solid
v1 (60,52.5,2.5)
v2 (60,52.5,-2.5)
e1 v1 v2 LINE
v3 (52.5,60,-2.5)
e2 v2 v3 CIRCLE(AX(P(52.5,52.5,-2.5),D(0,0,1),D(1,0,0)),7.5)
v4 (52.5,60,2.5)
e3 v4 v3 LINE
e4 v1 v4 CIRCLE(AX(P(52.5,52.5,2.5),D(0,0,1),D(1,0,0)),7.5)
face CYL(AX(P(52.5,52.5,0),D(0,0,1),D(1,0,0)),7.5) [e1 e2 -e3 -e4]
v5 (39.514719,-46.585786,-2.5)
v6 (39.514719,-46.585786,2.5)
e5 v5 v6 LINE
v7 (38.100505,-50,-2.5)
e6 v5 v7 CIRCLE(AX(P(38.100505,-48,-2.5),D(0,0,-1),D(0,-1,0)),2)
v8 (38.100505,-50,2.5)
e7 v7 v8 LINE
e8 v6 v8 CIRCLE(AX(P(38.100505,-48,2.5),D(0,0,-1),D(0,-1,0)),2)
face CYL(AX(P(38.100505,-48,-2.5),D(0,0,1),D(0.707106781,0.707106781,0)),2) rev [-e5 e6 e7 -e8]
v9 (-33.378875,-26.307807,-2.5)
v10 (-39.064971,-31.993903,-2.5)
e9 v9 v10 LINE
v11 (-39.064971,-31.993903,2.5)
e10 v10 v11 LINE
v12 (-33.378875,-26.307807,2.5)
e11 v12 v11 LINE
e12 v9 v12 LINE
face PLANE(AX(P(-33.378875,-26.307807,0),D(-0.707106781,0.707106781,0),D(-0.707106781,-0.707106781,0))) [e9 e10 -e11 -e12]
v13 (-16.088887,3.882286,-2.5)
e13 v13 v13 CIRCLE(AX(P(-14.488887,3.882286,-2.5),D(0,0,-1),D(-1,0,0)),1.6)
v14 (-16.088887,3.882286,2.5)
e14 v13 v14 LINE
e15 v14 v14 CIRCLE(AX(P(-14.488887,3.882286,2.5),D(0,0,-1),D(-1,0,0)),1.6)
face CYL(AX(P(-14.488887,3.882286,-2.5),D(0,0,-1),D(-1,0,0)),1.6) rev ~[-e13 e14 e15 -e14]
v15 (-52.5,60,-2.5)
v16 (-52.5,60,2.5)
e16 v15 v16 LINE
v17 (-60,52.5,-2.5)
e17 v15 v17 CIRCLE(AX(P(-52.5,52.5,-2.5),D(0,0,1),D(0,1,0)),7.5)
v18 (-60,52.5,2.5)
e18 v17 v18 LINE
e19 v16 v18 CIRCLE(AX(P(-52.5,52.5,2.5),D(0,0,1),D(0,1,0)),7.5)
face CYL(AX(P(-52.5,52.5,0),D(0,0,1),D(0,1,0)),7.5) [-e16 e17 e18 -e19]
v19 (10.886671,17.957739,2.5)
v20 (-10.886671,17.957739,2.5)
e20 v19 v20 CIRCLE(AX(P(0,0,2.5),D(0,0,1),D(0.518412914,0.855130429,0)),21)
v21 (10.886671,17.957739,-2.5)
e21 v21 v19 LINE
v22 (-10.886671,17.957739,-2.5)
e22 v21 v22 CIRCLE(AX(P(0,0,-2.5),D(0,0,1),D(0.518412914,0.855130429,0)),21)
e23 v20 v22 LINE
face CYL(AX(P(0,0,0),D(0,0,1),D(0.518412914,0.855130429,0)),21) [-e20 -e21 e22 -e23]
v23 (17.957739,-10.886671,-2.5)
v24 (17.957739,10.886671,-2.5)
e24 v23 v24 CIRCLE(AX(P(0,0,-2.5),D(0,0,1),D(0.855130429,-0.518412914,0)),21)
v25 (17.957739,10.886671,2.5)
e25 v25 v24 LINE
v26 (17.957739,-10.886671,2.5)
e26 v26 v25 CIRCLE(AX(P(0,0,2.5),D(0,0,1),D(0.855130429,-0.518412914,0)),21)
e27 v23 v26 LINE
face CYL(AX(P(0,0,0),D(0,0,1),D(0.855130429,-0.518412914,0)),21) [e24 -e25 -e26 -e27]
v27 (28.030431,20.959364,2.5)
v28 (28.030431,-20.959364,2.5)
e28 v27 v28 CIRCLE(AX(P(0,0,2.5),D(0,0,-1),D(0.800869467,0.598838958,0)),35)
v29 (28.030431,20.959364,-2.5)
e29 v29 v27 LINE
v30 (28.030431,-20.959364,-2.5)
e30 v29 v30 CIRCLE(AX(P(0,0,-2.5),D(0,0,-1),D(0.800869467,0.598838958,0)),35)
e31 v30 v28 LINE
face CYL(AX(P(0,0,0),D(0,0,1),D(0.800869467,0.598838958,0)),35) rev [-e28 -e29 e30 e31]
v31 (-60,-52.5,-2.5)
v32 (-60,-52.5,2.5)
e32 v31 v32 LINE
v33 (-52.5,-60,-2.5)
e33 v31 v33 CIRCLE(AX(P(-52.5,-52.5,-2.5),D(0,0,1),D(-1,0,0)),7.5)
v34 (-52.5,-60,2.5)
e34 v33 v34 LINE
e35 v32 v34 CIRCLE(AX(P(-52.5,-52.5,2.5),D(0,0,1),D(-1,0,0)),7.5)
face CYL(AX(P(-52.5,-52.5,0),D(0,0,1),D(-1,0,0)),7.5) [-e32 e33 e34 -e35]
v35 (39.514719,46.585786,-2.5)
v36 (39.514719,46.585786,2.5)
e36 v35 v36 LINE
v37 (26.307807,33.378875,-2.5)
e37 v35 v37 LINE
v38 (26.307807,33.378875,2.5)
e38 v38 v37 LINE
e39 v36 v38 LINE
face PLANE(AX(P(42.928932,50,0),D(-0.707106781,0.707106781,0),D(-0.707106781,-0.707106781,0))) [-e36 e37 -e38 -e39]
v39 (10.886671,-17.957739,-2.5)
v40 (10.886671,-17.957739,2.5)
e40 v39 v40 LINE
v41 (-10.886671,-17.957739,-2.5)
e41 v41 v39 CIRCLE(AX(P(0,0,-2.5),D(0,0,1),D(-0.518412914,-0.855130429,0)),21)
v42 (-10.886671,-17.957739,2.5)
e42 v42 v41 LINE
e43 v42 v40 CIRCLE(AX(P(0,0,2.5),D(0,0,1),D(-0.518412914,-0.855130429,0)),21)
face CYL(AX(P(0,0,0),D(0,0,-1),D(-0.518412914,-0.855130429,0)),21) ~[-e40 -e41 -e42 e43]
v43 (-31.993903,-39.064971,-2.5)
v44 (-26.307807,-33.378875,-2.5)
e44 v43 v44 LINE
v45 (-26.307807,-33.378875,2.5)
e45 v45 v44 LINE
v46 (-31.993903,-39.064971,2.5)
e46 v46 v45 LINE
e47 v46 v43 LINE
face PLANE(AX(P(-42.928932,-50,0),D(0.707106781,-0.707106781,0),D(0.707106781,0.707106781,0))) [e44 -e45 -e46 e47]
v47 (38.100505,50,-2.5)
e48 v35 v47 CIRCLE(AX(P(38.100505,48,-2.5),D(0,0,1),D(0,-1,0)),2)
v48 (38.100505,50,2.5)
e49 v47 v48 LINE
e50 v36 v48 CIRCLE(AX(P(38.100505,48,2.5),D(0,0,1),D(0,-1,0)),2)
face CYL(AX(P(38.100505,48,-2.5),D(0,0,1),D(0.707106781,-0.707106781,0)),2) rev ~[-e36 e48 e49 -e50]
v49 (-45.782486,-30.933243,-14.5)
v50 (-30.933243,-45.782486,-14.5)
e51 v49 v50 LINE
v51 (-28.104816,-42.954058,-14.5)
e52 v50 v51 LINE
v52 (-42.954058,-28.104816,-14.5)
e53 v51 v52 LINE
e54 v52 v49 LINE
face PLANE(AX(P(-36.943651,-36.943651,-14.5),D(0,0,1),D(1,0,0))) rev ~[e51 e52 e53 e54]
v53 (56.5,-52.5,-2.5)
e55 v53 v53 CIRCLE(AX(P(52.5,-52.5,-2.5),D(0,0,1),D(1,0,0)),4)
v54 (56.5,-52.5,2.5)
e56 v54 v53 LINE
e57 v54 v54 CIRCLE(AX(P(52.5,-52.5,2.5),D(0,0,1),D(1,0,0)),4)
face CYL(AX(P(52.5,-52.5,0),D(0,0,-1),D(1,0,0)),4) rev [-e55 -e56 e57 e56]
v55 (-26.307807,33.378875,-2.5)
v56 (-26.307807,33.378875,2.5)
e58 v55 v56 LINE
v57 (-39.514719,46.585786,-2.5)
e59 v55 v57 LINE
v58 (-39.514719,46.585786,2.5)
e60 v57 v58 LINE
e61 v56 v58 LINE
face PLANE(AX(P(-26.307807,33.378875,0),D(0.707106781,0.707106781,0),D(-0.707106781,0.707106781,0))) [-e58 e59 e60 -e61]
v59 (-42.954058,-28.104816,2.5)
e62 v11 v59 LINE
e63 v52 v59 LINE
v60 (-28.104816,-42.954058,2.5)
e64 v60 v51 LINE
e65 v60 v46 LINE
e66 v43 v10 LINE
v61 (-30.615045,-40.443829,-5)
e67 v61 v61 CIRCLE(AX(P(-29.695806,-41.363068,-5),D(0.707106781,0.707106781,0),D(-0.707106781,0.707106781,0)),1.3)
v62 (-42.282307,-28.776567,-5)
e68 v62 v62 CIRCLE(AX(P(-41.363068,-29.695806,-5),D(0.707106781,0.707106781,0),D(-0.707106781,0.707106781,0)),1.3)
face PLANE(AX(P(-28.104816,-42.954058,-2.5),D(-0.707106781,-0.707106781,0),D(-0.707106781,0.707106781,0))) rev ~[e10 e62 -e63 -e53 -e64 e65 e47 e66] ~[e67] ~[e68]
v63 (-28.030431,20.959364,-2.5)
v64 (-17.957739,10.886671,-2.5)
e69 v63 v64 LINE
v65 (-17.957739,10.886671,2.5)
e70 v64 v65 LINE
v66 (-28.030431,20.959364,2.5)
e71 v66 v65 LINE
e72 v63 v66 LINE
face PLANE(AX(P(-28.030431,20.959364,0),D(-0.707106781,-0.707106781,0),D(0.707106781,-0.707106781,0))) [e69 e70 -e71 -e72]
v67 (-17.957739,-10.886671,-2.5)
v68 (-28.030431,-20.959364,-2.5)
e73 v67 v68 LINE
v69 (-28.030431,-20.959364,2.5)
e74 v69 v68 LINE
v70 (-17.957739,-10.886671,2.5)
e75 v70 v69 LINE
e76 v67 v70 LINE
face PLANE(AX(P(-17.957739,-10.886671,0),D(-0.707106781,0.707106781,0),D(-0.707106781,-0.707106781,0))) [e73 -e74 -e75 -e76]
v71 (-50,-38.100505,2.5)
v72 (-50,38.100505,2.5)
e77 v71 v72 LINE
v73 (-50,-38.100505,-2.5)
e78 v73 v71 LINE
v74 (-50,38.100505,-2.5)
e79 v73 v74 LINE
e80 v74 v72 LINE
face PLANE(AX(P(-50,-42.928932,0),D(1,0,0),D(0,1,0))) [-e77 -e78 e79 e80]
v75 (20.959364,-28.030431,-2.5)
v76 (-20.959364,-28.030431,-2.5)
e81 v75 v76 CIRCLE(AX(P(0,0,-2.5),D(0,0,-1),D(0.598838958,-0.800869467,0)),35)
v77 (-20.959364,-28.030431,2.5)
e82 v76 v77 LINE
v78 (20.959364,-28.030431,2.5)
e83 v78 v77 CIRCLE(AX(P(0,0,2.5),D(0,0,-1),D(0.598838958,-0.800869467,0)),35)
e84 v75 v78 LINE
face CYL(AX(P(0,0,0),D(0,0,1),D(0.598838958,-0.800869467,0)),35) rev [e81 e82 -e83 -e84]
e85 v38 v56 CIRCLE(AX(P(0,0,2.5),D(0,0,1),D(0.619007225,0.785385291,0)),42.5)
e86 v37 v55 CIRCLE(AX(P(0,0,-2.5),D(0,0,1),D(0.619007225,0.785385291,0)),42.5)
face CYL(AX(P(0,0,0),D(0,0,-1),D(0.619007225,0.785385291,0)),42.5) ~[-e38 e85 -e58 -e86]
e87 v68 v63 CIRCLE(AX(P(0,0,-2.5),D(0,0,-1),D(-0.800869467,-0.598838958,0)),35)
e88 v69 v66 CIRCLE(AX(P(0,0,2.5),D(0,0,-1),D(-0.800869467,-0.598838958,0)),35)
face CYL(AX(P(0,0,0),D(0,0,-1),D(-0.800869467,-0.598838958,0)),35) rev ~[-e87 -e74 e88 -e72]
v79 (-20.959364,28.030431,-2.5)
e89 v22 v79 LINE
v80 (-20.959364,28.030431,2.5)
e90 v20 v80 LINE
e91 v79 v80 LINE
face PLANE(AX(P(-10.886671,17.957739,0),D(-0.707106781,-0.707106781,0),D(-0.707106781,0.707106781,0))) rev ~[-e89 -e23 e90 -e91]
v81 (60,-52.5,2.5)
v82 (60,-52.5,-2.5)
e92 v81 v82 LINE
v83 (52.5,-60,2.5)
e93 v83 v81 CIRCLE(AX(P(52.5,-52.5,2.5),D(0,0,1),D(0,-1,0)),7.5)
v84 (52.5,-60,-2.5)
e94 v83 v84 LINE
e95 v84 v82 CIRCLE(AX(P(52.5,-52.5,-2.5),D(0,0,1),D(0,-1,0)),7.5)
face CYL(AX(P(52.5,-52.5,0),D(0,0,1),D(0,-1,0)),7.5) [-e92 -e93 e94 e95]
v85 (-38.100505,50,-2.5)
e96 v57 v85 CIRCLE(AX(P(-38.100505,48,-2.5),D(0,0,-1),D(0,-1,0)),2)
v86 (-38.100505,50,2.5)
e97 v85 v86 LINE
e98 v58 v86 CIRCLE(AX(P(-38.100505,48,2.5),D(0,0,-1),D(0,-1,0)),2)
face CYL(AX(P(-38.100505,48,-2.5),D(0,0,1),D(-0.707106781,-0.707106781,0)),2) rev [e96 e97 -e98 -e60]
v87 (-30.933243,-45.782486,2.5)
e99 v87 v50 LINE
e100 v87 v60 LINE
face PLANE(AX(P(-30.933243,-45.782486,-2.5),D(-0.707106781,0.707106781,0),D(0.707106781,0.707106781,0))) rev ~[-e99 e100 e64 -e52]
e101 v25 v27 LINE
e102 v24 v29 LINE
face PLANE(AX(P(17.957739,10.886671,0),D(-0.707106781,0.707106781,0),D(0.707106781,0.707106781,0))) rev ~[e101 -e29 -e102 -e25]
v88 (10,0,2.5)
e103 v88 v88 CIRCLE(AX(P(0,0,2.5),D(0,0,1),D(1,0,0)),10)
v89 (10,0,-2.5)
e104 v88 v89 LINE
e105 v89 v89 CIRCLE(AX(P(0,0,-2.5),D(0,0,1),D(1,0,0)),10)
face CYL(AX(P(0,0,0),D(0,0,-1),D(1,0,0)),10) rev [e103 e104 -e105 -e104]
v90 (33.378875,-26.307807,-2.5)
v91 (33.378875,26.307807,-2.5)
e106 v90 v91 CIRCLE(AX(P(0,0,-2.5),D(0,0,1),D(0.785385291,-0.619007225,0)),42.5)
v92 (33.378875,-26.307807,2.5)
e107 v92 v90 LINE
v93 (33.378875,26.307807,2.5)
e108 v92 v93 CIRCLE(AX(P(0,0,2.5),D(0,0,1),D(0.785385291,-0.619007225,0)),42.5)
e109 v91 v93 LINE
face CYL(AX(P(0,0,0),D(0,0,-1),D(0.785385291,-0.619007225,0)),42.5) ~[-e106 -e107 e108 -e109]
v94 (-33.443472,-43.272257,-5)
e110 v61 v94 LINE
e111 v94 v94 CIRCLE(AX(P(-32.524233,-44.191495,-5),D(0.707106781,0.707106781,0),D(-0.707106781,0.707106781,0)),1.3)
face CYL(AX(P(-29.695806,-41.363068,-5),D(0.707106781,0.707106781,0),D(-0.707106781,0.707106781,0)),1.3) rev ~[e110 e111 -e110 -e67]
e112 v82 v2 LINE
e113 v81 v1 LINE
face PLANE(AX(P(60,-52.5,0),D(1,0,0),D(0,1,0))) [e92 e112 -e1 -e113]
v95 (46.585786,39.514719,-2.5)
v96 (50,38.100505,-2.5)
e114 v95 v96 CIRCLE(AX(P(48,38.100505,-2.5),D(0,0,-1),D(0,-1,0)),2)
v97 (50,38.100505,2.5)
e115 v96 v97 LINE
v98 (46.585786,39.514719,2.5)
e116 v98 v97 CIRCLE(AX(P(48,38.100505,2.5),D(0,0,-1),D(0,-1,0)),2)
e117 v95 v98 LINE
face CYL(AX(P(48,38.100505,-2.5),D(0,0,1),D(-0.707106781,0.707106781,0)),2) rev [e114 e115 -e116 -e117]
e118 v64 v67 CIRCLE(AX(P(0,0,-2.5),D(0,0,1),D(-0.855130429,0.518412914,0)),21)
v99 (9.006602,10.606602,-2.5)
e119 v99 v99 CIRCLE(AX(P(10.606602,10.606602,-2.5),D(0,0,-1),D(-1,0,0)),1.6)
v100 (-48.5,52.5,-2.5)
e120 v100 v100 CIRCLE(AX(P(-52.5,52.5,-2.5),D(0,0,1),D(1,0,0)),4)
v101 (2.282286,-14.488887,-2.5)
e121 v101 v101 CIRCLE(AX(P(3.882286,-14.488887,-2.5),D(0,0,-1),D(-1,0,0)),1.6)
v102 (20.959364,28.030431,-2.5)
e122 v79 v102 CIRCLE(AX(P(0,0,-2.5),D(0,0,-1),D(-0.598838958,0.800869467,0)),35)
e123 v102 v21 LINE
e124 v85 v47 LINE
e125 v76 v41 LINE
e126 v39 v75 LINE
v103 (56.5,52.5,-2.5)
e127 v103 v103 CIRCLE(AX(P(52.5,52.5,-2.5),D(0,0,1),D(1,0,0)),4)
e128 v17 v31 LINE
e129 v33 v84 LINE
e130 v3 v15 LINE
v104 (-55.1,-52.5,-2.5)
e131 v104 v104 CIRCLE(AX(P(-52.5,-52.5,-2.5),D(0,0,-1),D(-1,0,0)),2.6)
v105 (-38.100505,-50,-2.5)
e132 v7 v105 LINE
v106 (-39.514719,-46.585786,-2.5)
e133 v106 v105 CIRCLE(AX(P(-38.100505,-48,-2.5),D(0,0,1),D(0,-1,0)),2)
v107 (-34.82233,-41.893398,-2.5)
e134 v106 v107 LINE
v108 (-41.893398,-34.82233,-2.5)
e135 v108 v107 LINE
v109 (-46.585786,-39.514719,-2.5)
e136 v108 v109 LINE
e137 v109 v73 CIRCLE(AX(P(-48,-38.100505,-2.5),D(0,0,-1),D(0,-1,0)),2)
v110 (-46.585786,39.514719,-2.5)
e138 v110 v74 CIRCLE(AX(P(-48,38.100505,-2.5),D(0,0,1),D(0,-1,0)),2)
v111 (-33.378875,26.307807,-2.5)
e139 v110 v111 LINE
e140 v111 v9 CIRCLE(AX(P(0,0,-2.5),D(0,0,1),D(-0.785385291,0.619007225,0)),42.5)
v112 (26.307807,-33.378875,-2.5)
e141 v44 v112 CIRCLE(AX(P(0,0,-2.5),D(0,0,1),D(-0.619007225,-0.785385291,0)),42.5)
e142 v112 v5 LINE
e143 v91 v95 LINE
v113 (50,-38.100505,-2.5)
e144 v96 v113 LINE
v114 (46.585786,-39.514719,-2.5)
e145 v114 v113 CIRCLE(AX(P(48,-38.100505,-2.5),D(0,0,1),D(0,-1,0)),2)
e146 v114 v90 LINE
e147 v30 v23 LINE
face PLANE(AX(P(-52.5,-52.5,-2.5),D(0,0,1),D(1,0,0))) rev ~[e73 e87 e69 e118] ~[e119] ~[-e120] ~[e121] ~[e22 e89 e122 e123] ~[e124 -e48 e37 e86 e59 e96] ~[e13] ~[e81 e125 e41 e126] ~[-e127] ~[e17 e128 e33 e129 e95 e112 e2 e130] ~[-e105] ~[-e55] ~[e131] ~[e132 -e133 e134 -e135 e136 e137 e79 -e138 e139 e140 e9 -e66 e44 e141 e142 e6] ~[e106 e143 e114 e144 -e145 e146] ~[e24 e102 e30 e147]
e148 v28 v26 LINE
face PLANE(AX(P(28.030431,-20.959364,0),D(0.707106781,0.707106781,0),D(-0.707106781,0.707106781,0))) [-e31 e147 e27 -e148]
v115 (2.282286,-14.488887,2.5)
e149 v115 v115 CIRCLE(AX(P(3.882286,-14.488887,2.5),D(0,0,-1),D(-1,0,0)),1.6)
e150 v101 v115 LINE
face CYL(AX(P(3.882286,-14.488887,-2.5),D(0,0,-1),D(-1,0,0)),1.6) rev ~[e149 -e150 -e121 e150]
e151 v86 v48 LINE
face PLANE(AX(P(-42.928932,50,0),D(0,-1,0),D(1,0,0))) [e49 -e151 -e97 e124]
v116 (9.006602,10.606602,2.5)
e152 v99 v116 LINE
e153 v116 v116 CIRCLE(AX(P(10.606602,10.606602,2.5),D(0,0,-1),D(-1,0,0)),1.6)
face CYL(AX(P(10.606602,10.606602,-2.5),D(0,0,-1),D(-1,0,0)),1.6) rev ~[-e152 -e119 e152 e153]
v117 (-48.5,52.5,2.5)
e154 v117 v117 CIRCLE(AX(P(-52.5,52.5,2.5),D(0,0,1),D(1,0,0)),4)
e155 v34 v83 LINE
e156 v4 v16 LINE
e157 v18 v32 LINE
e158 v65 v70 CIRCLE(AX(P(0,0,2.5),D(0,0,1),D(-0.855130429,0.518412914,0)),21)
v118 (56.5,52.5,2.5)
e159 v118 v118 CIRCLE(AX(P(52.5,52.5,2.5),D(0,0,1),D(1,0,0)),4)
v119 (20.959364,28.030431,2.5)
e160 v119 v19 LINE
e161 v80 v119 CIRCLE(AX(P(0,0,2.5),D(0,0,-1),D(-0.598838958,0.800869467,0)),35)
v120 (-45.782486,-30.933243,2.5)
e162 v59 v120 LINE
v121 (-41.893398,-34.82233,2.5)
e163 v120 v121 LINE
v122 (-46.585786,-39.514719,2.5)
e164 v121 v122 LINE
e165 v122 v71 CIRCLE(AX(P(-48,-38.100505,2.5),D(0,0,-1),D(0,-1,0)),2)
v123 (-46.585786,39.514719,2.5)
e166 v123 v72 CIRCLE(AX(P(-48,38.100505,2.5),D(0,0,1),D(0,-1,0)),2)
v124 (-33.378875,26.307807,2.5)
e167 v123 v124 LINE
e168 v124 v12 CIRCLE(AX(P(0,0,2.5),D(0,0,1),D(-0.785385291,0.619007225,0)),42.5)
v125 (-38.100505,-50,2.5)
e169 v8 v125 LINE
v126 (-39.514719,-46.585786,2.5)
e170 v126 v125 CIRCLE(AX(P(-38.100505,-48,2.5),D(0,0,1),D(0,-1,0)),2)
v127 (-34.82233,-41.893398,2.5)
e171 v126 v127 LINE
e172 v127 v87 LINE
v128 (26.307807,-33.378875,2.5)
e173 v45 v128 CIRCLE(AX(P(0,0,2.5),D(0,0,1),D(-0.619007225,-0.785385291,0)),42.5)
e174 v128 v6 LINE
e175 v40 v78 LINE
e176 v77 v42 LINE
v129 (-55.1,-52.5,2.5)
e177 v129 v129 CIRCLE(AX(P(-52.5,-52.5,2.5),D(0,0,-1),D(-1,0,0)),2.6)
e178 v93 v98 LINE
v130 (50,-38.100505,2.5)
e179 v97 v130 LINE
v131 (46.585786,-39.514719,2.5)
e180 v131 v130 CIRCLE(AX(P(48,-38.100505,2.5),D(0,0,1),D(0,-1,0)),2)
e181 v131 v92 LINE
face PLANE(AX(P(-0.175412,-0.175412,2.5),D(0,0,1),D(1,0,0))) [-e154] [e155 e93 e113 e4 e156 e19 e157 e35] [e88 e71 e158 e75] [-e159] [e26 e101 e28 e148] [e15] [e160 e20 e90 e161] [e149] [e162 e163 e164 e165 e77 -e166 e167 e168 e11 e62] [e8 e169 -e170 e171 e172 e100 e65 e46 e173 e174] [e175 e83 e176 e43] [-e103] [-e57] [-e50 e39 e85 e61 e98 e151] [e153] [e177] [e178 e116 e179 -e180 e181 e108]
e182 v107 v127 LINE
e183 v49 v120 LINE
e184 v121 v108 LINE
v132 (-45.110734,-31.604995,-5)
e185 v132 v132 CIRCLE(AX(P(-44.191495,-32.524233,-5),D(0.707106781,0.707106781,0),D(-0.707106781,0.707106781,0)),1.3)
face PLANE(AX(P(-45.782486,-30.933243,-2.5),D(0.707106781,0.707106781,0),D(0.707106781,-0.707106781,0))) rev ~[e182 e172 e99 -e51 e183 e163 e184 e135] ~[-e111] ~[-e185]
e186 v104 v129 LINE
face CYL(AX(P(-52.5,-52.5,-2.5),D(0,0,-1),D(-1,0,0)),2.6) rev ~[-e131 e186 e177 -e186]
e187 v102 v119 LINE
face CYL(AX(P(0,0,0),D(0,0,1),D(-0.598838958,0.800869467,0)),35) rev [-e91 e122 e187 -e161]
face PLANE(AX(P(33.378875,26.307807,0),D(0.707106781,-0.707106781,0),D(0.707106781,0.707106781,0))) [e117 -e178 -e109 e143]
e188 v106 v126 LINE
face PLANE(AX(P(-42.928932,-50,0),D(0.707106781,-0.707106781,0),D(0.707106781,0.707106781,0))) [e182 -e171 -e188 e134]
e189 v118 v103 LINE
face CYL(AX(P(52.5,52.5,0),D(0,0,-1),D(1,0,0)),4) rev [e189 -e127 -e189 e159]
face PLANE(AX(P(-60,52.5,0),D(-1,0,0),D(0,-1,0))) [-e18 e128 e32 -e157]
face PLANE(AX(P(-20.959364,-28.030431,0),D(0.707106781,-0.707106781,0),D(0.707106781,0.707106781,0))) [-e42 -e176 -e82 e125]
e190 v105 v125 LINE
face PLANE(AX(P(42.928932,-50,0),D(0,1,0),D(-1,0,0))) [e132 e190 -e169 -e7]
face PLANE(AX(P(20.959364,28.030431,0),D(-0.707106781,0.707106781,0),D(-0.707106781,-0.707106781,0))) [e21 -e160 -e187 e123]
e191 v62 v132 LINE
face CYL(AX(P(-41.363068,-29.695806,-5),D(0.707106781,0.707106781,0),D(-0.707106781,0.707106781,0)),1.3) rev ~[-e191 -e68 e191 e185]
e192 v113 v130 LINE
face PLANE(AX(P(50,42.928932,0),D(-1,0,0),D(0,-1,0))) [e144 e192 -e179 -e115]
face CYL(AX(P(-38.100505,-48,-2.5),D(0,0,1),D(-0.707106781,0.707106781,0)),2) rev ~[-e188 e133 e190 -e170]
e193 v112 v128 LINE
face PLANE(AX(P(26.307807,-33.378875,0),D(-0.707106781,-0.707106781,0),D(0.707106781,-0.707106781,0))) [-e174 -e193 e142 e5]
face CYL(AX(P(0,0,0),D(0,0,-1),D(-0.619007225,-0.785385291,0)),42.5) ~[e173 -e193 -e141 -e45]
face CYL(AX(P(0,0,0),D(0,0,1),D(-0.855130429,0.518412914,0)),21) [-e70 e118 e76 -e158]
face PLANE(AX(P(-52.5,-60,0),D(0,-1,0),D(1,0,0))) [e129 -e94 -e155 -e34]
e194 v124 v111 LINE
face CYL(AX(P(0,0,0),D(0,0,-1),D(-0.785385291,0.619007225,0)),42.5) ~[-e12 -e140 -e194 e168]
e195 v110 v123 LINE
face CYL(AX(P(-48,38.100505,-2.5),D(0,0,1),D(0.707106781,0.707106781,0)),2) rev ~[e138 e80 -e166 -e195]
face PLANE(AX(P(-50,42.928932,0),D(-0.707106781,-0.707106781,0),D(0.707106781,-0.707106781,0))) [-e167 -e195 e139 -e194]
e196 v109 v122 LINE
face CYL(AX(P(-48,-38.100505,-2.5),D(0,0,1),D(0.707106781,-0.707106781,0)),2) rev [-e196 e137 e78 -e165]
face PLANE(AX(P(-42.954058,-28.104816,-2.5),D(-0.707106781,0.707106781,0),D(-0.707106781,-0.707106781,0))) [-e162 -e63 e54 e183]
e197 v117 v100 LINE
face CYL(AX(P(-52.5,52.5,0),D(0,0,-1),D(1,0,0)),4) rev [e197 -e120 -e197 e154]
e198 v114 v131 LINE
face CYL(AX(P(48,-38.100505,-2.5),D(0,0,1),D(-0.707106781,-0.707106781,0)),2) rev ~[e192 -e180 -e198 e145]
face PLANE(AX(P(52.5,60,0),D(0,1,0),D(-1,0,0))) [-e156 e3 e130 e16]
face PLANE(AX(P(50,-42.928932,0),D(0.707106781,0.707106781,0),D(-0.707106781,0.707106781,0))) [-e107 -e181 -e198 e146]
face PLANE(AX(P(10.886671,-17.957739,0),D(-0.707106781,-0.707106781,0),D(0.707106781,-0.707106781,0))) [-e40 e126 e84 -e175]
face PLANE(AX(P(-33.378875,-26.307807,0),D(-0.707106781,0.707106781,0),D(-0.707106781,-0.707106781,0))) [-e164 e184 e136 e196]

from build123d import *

# Parameters (mm, degrees)
SKETCH1_R                  = 4
SKETCH1_R_2                = 10
EXTRUDE1_DEPTH             = 2.5
FILLET1_R                  = 2
EXTRUDE5_REACH             = 87
SKETCH6_R                  = 1.6
EXTRUDE6_START             = -5
SKETCH7_R                  = 4
EXTRUDE6_DEPTH             = 5
SKETCH10_R                 = 2.6
EXTRUDE7_DEPTH             = 10
EXTRUDE8_DEPTH             = 12
EXTRUDE8_DIRECTION_2_REACH = 87
SKETCH12_R                 = 1.3
EXTRUDE9_DEPTH             = 10


with BuildPart() as part:
    # Sketch1 → Extrude1 (new, symmetric)
    with BuildSketch(Plane.XY):
        with BuildLine():
            Line((52.5, 60), (-52.5, 60))
            ThreePointArc((-52.5, 60), (-57.803300859, 57.803300859), (-60, 52.5))
            Line((-60, 52.5), (-60, -52.5))
            ThreePointArc((-60, -52.5), (-57.803300859, -57.803300859), (-52.5, -60))
            Line((-52.5, -60), (52.5, -60))
            ThreePointArc((52.5, -60), (57.803300859, -57.803300859), (60, -52.5))
            Line((60, -52.5), (60, 52.5))
            ThreePointArc((60, 52.5), (57.803300859, 57.803300859), (52.5, 60))
        make_face()
        with BuildLine():
            Line((-50, 42.928932188), (-33.378874872, 26.30780706))
            ThreePointArc((-33.378874872, 26.30780706), (-42.5, 0), (-33.378874872, -26.30780706))
            Line((-33.378874872, -26.30780706), (-50, -42.928932188))
            Line((-50, -42.928932188), (-50, 42.928932188))
        make_face(mode=Mode.SUBTRACT)
        with Locations((-52.5, -52.5)):
            Circle(SKETCH1_R, mode=Mode.SUBTRACT)
        with BuildLine():
            Line((-42.928932188, -50), (-26.30780706, -33.378874872))
            ThreePointArc((-26.30780706, -33.378874872), (0, -42.5), (26.30780706, -33.378874872))
            Line((26.30780706, -33.378874872), (42.928932188, -50))
            Line((42.928932188, -50), (-42.928932188, -50))
        make_face(mode=Mode.SUBTRACT)
        with Locations((52.5, -52.5)):
            Circle(SKETCH1_R, mode=Mode.SUBTRACT)
        with BuildLine():
            Line((50, -42.928932188), (33.378874872, -26.30780706))
            ThreePointArc((33.378874872, -26.30780706), (42.5, 0), (33.378874872, 26.30780706))
            Line((33.378874872, 26.30780706), (50, 42.928932188))
            Line((50, 42.928932188), (50, -42.928932188))
        make_face(mode=Mode.SUBTRACT)
        with Locations((52.5, 52.5)):
            Circle(SKETCH1_R, mode=Mode.SUBTRACT)
        with BuildLine():
            Line((42.928932188, 50), (26.30780706, 33.378874872))
            ThreePointArc((26.30780706, 33.378874872), (0, 42.5), (-26.30780706, 33.378874872))
            Line((-26.30780706, 33.378874872), (-42.928932188, 50))
            Line((-42.928932188, 50), (42.928932188, 50))
        make_face(mode=Mode.SUBTRACT)
        with Locations((-52.5, 52.5)):
            Circle(SKETCH1_R, mode=Mode.SUBTRACT)
        with BuildLine():
            Line((-20.959363522, -28.030431334), (-10.886671196, -17.957739008))
            ThreePointArc((-10.886671196, -17.957739008), (0, -21), (10.886671196, -17.957739008))
            Line((10.886671196, -17.957739008), (20.959363522, -28.030431334))
            ThreePointArc((20.959363522, -28.030431334), (0, -35), (-20.959363522, -28.030431334))
        make_face(mode=Mode.SUBTRACT)
        with BuildLine():
            ThreePointArc((17.957739008, -10.886671196), (21, 0), (17.957739008, 10.886671196))
            Line((17.957739008, 10.886671196), (28.030431334, 20.959363522))
            ThreePointArc((28.030431334, 20.959363522), (35, 0), (28.030431334, -20.959363522))
            Line((28.030431334, -20.959363522), (17.957739008, -10.886671196))
        make_face(mode=Mode.SUBTRACT)
        with BuildLine():
            ThreePointArc((10.886671196, 17.957739008), (0, 21), (-10.886671196, 17.957739008))
            Line((-10.886671196, 17.957739008), (-20.959363522, 28.030431334))
            ThreePointArc((-20.959363522, 28.030431334), (0, 35), (20.959363522, 28.030431334))
            Line((20.959363522, 28.030431334), (10.886671196, 17.957739008))
        make_face(mode=Mode.SUBTRACT)
        with BuildLine():
            Line((-17.957739008, -10.886671196), (-28.030431334, -20.959363522))
            ThreePointArc((-28.030431334, -20.959363522), (-35, 0), (-28.030431334, 20.959363522))
            Line((-28.030431334, 20.959363522), (-17.957739008, 10.886671196))
            ThreePointArc((-17.957739008, 10.886671196), (-21, 0), (-17.957739008, -10.886671196))
        make_face(mode=Mode.SUBTRACT)
        Circle(SKETCH1_R_2, mode=Mode.SUBTRACT)
    extrude(amount=EXTRUDE1_DEPTH, both=True)

    # Fillet1
    fillet1_edges = [part.edges().sort_by_distance(p)[0] for p in [
        (50, 42.928932188, 0),
        (50, -42.928932188, 0),
        (42.928932188, 50, 0),
        (-42.928932188, 50, 0),
        (-50, 42.928932188, 0),
        (-50, -42.928932188, 0),
        (-42.928932188, -50, 0),
        (42.928932188, -50, 0),
    ]]
    fillet(fillet1_edges, radius=FILLET1_R)

    # Sketch6 → Extrude5 (cut, up to next)
    with BuildSketch(Plane(origin=(0, 0, -2.5), x_dir=(-1, 0, 0), z_dir=(0, 0, -1)), mode=Mode.PRIVATE) as extrude5_sk1:
        with Locations((-10.606601718, 10.606601718)):
            Circle(SKETCH6_R)
    extrude5_tool1 = extrude(extrude5_sk1.sketch, amount=-EXTRUDE5_REACH, mode=Mode.PRIVATE) & part.part
    # Sketch6 → Extrude5 (cut, up to next)
    with BuildSketch(Plane(origin=(0, 0, -2.5), x_dir=(-1, 0, 0), z_dir=(0, 0, -1)), mode=Mode.PRIVATE) as extrude5_sk2:
        with Locations((14.488887394, 3.882285677)):
            Circle(SKETCH6_R)
    extrude5_tool2 = extrude(extrude5_sk2.sketch, amount=-EXTRUDE5_REACH, mode=Mode.PRIVATE) & part.part
    # Sketch6 → Extrude5 (cut, up to next)
    with BuildSketch(Plane(origin=(0, 0, -2.5), x_dir=(-1, 0, 0), z_dir=(0, 0, -1)), mode=Mode.PRIVATE) as extrude5_sk3:
        with Locations((-3.882285677, -14.488887394)):
            Circle(SKETCH6_R)
    extrude5_tool3 = extrude(extrude5_sk3.sketch, amount=-EXTRUDE5_REACH, mode=Mode.PRIVATE) & part.part
    add(extrude5_tool1.solids().sort_by_distance((10.606602, 10.606602, -2.5))[0], mode=Mode.SUBTRACT)
    add(extrude5_tool2.solids().sort_by_distance((-14.488887, 3.882286, -2.5))[0], mode=Mode.SUBTRACT)
    add(extrude5_tool3.solids().sort_by_distance((3.882286, -14.488887, -2.5))[0], mode=Mode.SUBTRACT)

    # Sketch7 → Extrude6 (add)
    with BuildSketch(Plane.XY.offset(2.5).offset(EXTRUDE6_START)):
        with Locations((-52.5, -52.5)):
            Circle(SKETCH7_R)
    extrude(amount=EXTRUDE6_DEPTH)

    # Sketch10 → Extrude7 (cut)
    with BuildSketch(Plane(origin=(0, 0, -2.5), x_dir=(-1, 0, 0), z_dir=(0, 0, -1))):
        with Locations((52.5, -52.5)):
            Circle(SKETCH10_R)
    extrude(amount=-EXTRUDE7_DEPTH, mode=Mode.SUBTRACT)

    # Sketch11 → Extrude8 (add)
    with BuildSketch(Plane(origin=(0, 0, -2.5), x_dir=(-1, 0, 0), z_dir=(0, 0, -1))):
        Polygon((28.104816049, -42.954058454), (42.954058454, -28.104816049), (45.782485579, -30.933243174), (30.933243174, -45.782485579), align=None)
    extrude(amount=EXTRUDE8_DEPTH)

    # Extrude8 direction 2: up to this face of the body (flat: up to its plane)
    extrude8_direction_2_end = Plane(part.part.faces().sort_by_distance((0, 58.302943725, 2.5))[0])
    # Sketch11 → Extrude8 direction 2 (add, up to the picked face)
    with BuildSketch(Plane(origin=(0, 0, -2.5), x_dir=(-1, 0, 0), z_dir=(0, 0, -1)), mode=Mode.PRIVATE) as extrude8_direction_2_sk1:
        Polygon((28.104816049, -42.954058454), (42.954058454, -28.104816049), (45.782485579, -30.933243174), (30.933243174, -45.782485579), align=None)
    extrude8_direction_2_tool1 = split(extrude(extrude8_direction_2_sk1.sketch, amount=-EXTRUDE8_DIRECTION_2_REACH, mode=Mode.PRIVATE), bisect_by=extrude8_direction_2_end, keep=Keep.BOTH, mode=Mode.PRIVATE)
    add(extrude8_direction_2_tool1.solids().sort_by(Axis((-36.943651, -36.943651, -2.5), (0, 0, 1)))[0])

    # Sketch12 → Extrude9 (cut)
    with BuildSketch(Plane(origin=(-35.529437252, -35.529437252, 0), x_dir=(0, 0, -1), z_dir=(0.7071067811865501, 0.7071067811865449, 0))):
        with Locations(Location((5, -8.25, 0), (0, 0, 90))):
            Circle(SKETCH12_R)
        with Locations(Location((5, 8.25, 0), (0, 0, 90))):
            Circle(SKETCH12_R)
    extrude(amount=-EXTRUDE9_DEPTH, mode=Mode.SUBTRACT)


solid = part.part
